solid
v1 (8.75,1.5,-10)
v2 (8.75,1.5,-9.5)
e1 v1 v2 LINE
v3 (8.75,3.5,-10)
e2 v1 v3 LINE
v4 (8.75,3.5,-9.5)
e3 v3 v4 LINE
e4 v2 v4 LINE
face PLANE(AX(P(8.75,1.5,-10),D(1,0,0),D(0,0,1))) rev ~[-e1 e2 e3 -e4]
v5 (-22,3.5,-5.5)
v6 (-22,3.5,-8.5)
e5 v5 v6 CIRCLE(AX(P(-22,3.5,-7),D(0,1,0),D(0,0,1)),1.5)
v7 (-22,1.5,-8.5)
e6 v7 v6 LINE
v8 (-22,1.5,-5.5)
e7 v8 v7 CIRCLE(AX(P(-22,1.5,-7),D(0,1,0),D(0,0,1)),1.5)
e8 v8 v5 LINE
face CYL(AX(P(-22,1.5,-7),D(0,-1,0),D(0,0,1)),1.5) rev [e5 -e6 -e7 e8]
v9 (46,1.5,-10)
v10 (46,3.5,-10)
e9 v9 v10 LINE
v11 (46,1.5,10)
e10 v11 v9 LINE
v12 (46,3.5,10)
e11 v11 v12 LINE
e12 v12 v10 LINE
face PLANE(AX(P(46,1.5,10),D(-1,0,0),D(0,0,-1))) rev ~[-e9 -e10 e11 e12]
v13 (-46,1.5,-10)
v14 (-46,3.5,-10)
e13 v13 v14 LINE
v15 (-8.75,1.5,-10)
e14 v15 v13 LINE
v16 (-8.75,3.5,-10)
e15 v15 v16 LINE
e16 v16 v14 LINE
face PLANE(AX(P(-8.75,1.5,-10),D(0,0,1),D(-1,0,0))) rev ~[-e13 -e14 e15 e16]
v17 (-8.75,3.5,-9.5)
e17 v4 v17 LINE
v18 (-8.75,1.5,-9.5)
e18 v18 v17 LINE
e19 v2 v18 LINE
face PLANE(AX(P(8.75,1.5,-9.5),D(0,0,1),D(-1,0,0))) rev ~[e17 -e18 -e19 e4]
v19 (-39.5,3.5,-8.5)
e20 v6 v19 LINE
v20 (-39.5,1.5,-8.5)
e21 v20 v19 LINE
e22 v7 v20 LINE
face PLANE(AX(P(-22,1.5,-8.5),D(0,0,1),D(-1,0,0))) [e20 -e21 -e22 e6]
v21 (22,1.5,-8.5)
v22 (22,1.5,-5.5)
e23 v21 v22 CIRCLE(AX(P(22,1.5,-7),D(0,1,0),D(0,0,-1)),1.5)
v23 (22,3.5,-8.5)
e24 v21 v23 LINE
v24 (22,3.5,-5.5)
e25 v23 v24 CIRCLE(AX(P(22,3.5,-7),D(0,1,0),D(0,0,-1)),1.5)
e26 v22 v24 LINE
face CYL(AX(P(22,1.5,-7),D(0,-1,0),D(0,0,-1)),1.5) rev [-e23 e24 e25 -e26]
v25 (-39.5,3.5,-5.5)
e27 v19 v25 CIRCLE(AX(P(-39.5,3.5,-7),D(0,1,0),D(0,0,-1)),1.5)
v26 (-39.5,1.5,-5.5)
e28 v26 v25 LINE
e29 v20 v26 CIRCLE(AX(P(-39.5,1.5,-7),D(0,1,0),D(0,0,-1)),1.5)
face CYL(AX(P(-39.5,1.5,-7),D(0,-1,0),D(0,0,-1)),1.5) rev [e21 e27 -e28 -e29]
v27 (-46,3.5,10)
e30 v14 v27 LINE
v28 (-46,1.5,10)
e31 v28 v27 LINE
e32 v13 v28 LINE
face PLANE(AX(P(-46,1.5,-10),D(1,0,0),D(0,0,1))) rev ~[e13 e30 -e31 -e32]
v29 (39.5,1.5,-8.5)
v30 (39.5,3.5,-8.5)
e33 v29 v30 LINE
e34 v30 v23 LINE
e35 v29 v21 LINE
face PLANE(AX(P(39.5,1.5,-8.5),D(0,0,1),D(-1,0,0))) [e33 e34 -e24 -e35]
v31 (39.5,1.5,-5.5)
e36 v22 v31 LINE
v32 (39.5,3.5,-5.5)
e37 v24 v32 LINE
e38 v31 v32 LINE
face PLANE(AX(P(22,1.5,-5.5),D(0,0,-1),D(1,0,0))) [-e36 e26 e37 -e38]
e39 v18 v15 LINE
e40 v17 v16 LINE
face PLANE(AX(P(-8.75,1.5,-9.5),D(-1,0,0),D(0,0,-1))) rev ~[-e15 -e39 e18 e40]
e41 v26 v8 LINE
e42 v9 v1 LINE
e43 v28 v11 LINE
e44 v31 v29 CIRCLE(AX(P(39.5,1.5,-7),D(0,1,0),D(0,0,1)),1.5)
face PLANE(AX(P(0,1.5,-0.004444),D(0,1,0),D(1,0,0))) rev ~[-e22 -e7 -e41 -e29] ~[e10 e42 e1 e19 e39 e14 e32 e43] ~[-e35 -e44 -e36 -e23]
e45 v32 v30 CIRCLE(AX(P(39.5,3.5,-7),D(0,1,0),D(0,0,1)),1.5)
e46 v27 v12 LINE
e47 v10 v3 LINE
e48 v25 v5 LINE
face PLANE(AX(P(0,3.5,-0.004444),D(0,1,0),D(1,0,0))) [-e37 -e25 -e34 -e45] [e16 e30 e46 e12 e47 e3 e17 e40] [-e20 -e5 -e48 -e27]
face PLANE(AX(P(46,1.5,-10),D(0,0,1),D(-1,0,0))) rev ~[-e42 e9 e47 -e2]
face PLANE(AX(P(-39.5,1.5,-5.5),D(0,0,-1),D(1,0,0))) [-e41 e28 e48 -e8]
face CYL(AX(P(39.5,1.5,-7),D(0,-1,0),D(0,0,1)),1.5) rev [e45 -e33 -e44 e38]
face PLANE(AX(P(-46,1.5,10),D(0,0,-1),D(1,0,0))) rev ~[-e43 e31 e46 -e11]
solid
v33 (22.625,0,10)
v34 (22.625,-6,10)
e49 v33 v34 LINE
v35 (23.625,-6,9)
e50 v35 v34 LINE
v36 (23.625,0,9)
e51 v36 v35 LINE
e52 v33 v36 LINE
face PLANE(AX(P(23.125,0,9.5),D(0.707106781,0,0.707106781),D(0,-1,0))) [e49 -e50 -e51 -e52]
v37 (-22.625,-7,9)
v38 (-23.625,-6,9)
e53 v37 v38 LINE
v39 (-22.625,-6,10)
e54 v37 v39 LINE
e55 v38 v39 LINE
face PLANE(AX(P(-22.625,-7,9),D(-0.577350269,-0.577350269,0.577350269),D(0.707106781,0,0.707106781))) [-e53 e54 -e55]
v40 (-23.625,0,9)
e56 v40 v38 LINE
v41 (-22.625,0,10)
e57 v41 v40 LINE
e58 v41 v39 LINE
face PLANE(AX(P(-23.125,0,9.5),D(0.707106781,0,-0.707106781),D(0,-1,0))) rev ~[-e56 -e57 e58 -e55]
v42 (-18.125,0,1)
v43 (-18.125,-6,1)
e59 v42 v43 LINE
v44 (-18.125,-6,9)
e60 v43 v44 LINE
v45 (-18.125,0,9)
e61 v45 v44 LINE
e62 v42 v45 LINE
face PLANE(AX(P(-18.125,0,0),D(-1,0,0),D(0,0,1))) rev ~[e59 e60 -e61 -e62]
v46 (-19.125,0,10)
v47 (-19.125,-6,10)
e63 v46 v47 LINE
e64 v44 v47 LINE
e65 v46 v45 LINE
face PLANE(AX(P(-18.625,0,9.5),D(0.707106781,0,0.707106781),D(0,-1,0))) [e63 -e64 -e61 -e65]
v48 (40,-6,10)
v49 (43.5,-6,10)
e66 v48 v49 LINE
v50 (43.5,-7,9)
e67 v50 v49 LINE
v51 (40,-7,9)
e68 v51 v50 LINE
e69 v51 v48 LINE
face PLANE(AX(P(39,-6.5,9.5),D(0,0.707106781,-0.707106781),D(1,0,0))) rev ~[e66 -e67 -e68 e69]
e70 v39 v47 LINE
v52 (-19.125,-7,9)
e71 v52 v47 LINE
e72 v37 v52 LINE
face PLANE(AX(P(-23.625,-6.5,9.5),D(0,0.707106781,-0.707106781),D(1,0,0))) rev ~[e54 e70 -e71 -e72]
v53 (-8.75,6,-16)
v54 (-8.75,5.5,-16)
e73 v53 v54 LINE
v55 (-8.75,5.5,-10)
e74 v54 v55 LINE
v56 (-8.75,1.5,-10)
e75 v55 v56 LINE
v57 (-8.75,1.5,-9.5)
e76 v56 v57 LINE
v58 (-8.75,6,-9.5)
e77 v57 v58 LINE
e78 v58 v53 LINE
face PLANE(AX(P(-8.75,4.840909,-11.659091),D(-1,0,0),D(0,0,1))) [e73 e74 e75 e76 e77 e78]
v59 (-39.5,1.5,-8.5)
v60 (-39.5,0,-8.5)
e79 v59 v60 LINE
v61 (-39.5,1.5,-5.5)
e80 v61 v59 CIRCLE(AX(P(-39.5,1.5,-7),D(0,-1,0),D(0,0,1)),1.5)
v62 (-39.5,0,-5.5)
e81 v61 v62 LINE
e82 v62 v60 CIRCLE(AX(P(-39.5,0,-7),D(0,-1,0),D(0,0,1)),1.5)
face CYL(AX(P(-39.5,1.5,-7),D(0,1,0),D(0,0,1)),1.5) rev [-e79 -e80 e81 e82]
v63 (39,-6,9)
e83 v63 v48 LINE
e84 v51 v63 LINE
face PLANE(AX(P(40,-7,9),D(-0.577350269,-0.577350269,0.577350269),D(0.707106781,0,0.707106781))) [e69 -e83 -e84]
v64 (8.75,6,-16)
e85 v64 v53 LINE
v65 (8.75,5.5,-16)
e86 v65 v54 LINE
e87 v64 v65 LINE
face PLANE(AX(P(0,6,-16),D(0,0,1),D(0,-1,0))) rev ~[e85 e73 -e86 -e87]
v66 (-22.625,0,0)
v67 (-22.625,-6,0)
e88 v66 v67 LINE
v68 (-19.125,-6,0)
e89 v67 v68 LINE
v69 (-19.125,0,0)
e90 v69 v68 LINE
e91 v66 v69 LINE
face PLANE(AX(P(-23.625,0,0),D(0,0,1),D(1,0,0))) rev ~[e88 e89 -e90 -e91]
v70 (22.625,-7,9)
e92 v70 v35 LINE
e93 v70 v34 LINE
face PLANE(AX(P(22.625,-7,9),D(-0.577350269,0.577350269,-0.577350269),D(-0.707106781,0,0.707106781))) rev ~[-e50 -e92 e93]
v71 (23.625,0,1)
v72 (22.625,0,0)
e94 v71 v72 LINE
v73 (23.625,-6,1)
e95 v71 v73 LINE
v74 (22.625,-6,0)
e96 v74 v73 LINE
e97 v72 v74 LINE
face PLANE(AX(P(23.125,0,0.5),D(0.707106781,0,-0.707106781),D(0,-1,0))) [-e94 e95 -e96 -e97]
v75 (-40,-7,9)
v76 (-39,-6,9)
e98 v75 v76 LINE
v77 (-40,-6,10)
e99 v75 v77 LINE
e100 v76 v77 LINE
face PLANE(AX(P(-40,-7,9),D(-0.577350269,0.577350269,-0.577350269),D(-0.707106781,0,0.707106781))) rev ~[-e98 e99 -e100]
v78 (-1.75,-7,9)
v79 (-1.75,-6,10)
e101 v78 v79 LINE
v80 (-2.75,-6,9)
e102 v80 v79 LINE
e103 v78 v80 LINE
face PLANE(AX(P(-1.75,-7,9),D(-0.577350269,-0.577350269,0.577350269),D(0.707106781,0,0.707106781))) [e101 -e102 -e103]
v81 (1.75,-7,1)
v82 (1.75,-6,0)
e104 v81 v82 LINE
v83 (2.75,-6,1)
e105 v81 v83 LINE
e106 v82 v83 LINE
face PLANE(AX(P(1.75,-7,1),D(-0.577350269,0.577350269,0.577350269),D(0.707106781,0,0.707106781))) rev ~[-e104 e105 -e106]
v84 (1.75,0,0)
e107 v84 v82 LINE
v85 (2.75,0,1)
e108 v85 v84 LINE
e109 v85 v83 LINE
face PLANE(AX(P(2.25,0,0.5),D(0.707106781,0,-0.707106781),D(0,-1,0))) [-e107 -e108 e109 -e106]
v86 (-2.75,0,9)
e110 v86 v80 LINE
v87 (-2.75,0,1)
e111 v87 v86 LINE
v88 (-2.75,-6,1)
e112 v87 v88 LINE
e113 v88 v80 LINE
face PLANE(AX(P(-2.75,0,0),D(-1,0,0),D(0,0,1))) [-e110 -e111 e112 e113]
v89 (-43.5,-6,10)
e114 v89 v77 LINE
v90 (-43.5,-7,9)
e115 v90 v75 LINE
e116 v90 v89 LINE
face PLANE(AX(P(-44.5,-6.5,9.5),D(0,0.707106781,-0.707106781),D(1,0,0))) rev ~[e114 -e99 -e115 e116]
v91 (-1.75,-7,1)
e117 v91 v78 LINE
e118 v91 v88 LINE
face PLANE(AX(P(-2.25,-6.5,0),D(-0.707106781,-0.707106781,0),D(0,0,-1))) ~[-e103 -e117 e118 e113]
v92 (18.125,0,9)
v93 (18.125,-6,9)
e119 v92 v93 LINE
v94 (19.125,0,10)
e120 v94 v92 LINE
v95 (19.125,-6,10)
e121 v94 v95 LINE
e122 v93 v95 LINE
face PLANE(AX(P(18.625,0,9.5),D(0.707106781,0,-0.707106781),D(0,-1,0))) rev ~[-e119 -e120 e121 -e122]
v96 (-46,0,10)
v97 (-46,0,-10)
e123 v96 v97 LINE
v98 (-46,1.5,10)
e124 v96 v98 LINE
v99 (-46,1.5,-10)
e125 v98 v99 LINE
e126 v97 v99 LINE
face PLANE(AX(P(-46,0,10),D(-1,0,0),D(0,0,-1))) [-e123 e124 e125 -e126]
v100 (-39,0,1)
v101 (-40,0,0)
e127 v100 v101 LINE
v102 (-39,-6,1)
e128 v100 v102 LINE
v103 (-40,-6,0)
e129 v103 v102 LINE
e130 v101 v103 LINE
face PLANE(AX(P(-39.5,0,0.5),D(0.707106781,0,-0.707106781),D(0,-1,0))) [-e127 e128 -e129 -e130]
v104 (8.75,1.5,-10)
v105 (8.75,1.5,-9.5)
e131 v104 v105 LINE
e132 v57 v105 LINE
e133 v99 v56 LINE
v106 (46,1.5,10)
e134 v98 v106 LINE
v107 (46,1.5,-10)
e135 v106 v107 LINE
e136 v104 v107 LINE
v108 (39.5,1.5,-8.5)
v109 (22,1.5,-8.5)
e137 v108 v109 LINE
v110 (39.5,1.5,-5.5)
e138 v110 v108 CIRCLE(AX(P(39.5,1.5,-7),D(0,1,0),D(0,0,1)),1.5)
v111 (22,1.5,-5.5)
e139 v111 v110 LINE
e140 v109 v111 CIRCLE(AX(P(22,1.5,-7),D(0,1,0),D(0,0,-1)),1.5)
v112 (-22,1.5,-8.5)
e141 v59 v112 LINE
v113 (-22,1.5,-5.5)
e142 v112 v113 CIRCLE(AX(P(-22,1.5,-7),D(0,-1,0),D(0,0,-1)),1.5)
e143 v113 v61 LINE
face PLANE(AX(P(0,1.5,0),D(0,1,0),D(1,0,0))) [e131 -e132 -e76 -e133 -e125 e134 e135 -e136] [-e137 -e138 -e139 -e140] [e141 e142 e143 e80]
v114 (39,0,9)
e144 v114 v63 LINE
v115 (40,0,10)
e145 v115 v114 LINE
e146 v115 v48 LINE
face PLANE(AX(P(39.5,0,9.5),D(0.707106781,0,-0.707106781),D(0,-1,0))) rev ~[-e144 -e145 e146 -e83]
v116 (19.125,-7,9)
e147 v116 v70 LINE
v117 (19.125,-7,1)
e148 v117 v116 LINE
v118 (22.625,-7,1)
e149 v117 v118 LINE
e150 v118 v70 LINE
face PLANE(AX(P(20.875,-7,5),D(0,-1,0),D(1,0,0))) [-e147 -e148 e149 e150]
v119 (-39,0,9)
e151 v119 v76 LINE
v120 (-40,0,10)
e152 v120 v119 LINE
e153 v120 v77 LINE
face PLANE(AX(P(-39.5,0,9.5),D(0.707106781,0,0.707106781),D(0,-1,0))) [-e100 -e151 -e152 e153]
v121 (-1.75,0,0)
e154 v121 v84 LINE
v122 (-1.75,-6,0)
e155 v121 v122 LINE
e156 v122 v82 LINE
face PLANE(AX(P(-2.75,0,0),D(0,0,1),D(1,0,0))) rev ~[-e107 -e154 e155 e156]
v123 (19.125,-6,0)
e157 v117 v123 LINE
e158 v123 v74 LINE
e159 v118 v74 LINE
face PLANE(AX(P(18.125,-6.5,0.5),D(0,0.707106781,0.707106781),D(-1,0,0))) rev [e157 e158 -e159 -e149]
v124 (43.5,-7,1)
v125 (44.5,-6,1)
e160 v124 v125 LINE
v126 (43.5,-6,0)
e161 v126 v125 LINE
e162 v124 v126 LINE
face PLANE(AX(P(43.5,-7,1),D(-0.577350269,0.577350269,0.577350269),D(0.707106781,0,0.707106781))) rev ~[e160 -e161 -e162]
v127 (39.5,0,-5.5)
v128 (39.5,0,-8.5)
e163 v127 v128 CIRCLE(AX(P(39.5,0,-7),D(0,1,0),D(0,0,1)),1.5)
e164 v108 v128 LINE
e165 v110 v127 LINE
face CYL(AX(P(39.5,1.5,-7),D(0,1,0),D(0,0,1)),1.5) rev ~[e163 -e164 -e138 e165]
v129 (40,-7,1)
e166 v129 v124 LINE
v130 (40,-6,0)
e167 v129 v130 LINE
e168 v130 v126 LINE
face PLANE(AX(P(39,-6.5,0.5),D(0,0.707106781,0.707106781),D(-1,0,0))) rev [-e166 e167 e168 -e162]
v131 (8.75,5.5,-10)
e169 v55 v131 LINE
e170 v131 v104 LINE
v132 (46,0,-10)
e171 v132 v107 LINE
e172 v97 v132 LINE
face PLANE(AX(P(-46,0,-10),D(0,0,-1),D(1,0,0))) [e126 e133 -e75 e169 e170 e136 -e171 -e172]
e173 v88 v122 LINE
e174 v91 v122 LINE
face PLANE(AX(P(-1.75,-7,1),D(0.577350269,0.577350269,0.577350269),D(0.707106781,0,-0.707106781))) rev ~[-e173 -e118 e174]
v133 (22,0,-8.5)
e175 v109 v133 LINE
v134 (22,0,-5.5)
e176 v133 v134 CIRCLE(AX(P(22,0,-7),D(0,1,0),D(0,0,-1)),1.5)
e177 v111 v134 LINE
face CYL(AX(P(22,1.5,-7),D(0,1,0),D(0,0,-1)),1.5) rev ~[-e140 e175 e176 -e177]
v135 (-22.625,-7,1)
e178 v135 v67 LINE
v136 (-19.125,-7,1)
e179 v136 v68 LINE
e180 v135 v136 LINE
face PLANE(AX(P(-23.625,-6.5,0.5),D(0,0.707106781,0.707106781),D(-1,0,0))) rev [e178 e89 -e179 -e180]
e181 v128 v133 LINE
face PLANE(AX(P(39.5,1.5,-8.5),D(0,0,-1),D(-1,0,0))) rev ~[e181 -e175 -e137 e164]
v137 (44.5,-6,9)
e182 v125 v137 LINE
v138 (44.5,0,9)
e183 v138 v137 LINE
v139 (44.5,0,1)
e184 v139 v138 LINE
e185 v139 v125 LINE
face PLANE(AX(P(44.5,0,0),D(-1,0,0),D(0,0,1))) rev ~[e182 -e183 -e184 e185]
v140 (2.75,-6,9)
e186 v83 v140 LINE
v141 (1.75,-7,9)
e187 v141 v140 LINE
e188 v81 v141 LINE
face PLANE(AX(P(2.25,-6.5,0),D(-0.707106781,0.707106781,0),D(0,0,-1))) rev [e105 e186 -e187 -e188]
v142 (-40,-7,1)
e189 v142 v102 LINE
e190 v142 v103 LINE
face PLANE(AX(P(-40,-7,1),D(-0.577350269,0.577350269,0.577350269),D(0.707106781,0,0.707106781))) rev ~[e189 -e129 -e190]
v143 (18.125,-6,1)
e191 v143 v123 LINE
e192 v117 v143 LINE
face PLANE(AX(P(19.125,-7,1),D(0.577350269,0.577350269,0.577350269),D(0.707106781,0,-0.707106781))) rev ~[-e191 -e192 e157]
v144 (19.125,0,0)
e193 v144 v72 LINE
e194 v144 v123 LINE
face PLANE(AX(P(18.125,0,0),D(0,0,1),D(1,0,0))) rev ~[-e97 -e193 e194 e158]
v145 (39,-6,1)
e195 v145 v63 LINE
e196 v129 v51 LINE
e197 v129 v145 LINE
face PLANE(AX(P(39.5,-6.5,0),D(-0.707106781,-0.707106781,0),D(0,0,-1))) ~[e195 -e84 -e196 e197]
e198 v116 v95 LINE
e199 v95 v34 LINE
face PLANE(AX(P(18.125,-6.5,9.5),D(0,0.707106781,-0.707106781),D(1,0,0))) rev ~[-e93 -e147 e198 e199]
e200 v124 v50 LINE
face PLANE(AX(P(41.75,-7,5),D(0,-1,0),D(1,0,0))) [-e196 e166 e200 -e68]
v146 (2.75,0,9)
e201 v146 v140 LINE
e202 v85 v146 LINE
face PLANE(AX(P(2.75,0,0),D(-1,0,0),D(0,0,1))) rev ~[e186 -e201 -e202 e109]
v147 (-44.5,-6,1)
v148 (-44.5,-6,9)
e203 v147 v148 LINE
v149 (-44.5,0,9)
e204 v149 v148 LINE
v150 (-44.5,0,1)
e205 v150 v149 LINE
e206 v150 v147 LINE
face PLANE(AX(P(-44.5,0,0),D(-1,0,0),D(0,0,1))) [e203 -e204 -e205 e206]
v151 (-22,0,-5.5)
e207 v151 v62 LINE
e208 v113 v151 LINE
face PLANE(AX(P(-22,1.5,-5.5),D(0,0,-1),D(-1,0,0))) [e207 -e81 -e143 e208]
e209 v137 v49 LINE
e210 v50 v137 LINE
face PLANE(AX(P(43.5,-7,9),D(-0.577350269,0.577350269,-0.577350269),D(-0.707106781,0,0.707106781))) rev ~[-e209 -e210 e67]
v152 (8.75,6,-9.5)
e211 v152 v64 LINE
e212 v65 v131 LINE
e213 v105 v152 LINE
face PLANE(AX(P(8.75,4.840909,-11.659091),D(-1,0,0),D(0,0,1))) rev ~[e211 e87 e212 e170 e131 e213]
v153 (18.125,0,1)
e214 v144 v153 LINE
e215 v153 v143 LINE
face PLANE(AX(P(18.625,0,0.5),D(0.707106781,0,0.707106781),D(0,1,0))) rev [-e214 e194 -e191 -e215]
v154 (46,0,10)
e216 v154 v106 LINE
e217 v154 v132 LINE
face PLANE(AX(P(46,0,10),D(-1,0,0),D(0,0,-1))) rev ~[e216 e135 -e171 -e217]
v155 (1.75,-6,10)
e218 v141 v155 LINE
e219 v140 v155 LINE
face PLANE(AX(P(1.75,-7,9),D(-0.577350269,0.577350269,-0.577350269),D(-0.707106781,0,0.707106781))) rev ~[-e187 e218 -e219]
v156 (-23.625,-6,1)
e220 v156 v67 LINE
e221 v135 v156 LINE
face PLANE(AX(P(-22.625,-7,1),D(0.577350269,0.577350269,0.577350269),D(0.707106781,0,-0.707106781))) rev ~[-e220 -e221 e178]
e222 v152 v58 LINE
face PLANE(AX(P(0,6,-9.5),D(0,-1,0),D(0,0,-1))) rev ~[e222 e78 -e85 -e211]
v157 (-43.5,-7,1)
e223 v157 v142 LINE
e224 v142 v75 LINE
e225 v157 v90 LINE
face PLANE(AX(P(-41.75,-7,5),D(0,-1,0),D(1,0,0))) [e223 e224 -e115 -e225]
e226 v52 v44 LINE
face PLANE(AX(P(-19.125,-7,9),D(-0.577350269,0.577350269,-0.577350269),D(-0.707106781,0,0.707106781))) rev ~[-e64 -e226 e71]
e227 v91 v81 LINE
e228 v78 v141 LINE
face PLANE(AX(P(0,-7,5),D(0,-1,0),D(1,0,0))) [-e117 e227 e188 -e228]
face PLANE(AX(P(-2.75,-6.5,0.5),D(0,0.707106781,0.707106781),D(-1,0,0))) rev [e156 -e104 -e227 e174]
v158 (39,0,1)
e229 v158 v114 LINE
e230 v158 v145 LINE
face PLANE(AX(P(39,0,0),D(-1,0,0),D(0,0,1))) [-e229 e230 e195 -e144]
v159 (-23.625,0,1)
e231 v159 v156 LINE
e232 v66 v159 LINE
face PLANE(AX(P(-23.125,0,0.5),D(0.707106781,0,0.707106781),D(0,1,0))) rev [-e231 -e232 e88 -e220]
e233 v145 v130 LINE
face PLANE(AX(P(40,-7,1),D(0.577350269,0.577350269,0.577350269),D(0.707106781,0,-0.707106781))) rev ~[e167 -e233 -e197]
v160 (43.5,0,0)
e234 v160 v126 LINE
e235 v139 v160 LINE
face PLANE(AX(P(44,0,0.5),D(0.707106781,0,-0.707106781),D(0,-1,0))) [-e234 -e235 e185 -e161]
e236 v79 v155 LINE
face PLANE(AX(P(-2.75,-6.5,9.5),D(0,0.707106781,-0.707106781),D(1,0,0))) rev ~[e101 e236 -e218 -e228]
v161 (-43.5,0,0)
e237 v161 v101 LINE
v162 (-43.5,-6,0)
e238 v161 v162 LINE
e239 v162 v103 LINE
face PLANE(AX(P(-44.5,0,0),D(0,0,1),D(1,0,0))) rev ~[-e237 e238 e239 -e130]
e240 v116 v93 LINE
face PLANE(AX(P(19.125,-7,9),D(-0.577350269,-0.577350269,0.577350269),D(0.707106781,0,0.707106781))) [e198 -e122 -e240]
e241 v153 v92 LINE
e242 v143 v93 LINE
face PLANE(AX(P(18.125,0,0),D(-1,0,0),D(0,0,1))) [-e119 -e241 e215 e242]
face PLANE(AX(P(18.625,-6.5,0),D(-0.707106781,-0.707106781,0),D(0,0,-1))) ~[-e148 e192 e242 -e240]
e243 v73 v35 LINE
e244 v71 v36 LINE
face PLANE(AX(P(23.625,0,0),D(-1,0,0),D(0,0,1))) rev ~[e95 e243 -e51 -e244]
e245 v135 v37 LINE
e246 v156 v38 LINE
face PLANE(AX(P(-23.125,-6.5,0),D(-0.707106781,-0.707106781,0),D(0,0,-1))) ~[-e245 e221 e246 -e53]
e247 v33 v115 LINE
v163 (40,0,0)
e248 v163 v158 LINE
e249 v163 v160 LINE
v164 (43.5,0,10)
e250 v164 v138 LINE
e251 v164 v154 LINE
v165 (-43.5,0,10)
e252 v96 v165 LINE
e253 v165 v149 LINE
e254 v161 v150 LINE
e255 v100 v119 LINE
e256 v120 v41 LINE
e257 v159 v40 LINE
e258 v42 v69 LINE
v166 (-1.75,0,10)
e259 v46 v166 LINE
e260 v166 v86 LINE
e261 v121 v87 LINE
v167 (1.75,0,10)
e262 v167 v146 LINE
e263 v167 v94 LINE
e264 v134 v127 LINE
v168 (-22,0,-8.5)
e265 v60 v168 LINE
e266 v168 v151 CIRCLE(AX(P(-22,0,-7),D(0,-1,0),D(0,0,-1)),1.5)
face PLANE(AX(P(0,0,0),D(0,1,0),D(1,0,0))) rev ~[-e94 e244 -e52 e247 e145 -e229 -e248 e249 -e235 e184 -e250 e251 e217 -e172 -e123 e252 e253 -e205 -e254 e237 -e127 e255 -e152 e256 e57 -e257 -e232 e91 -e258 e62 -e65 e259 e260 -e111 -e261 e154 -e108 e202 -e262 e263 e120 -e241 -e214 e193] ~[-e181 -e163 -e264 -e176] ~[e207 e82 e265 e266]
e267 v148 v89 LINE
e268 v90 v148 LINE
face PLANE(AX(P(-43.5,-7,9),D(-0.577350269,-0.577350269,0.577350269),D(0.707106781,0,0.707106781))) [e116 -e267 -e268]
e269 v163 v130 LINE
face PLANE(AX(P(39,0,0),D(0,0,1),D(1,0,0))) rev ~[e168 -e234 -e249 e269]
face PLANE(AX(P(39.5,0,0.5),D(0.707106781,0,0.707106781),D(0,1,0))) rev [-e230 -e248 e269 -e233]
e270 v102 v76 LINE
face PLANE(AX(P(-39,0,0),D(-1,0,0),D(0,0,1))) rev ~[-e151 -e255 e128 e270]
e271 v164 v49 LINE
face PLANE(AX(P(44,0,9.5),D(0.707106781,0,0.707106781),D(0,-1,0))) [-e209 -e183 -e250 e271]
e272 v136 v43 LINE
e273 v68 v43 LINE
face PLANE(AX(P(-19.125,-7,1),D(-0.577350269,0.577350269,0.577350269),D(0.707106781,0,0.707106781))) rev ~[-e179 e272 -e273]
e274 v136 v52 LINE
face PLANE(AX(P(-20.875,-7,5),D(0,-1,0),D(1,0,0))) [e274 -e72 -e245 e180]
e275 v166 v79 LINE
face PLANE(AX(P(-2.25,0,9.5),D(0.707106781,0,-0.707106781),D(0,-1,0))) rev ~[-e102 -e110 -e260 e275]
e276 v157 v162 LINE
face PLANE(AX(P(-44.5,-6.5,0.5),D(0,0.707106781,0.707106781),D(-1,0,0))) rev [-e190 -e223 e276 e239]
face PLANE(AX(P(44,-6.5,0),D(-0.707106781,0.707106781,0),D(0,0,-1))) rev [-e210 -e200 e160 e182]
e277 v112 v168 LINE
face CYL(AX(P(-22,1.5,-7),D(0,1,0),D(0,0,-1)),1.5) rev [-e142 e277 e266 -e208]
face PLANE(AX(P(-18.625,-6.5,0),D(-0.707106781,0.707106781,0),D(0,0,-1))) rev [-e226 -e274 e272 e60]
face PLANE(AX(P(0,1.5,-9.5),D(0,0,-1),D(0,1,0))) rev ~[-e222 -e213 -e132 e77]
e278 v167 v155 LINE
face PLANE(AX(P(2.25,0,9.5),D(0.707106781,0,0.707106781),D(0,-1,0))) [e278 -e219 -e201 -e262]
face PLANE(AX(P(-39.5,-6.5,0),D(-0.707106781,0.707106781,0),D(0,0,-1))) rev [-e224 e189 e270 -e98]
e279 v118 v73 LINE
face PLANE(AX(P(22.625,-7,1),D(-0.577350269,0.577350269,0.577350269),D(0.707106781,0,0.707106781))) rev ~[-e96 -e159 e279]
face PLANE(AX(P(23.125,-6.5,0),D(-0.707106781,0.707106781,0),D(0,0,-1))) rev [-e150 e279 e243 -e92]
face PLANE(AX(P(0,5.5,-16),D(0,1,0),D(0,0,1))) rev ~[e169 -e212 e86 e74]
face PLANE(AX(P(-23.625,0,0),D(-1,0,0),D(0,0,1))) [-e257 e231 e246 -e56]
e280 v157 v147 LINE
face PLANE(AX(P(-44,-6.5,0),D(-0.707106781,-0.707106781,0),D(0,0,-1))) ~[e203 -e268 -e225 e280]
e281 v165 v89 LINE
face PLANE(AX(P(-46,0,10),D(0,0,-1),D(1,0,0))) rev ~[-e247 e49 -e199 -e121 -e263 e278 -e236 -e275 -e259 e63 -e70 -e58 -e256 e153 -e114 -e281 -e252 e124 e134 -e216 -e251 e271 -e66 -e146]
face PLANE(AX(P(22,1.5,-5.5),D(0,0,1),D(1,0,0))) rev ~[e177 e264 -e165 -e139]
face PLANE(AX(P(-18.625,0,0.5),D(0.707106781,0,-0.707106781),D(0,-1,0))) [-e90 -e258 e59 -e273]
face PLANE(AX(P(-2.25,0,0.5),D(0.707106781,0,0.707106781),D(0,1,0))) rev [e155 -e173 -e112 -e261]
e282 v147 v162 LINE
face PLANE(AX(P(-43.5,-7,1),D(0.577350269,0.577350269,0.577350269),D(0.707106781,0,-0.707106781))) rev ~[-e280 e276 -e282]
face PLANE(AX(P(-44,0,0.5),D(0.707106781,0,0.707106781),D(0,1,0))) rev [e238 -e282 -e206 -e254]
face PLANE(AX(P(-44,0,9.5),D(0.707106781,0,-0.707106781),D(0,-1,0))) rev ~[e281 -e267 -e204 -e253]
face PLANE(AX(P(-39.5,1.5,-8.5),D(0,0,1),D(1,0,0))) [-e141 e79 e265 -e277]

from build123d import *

# Parameters (mm, degrees)
SKETCH_1_W                         = 92
SKETCH_1_H                         = 20
EXTRUDE_1_DEPTH                    = 1.5
SKETCH_2_W                         = 5.5
SKETCH_2_H                         = 10
EXTRUDE_2_DEPTH                    = 7
CHAMFER_1_SIZE                     = 1
PATTERN_LINEAR_2_COUNT             = 5
PATTERN_LINEAR_2_PITCH             = 20.875
CHAMFER_1_OF_PATTERN_LINEAR_2_SIZE = 1
EXTRUDE_3_DEPTH                    = 8.75
CUT_EXTRUDE_1_DEPTH                = 1.5
EXTRUDE_4_DEPTH                    = 2


with BuildPart() as part:
    # 草图1 → 凸台-拉伸1 (new body)
    with BuildSketch(Plane(origin=(0, 0, 0), x_dir=(1, 0, 0), z_dir=(0, 1, 0))):
        Rectangle(SKETCH_1_W, SKETCH_1_H)
    extrude(amount=EXTRUDE_1_DEPTH)

    # 草图2 → 凸台-拉伸2 (add)
    with BuildSketch(Plane.XZ):
        with Locations((-41.75, 5)):
            Rectangle(SKETCH_2_W, SKETCH_2_H)
    extrude_2 = extrude(amount=EXTRUDE_2_DEPTH)

    # 倒角1
    chamfer_1_edges = [part.edges().sort_by_distance(p)[0] for p in [
        (-44.5, -3.5, 10),
        (-44.5, -3.5, 0),
        (-39, -3.5, 0),
        (-39, -3.5, 10),
        (-44.5, -7, 5),
        (-41.75, -7, 0),
        (-39, -7, 5),
        (-41.75, -7, 10),
    ]]
    chamfer(chamfer_1_edges, length=CHAMFER_1_SIZE)

    # 阵列(线性)2: 凸台-拉伸2 ×5
    with Locations(*[(i * PATTERN_LINEAR_2_PITCH, 0, 0) for i in range(1, PATTERN_LINEAR_2_COUNT)]):
        add(extrude_2)

    # 倒角1 of 阵列(线性)2
    chamfer_1_of_pattern_linear_2_edges = [part.edges().sort_by_distance(p)[0] for p in [
        (-23.625, -3.5, 10),
        (-23.625, -3.5, 0),
        (-18.125, -3.5, 0),
        (-18.125, -3.5, 10),
        (-23.625, -7, 5),
        (-20.875, -7, 0),
        (-18.125, -7, 5),
        (-20.875, -7, 10),
        (-2.75, -3.5, 10),
        (-2.75, -3.5, 0),
        (2.75, -3.5, 0),
        (2.75, -3.5, 10),
        (-2.75, -7, 5),
        (0, -7, 0),
        (2.75, -7, 5),
        (0, -7, 10),
        (18.125, -3.5, 10),
        (18.125, -3.5, 0),
        (23.625, -3.5, 0),
        (23.625, -3.5, 10),
        (18.125, -7, 5),
        (20.875, -7, 0),
        (23.625, -7, 5),
        (20.875, -7, 10),
        (39, -3.5, 10),
        (39, -3.5, 0),
        (44.5, -3.5, 0),
        (44.5, -3.5, 10),
        (39, -7, 5),
        (41.75, -7, 0),
        (44.5, -7, 5),
        (41.75, -7, 10),
    ]]
    chamfer(chamfer_1_of_pattern_linear_2_edges, length=CHAMFER_1_OF_PATTERN_LINEAR_2_SIZE)

    # 草图4 → 凸台-拉伸3 (add, symmetric)
    with BuildSketch(Plane(origin=(0, 0, 0), x_dir=(0, 0, -1), z_dir=(1, 0, 0))):
        Polygon((9.5, 1.5), (9.5, 6), (16, 6), (16, 5.5), (10, 5.5), (10, 1.5), align=None)
    extrude(amount=EXTRUDE_3_DEPTH, both=True)

    # 草图5 → 切除-拉伸1 (cut)
    with BuildSketch(Plane(origin=(0, 1.5, 0), x_dir=(1, 0, 0), z_dir=(0, 1, 0))):
        with BuildLine():
            Line((-39.5, 8.5), (-22, 8.5))
            ThreePointArc((-22, 8.5), (-20.5, 7), (-22, 5.5))
            Line((-22, 5.5), (-39.5, 5.5))
            ThreePointArc((-39.5, 5.5), (-41, 7), (-39.5, 8.5))
        make_face()
        with BuildLine():
            Line((39.5, 8.5), (22, 8.5))
            ThreePointArc((22, 8.5), (20.5, 7), (22, 5.5))
            Line((22, 5.5), (39.5, 5.5))
            ThreePointArc((39.5, 5.5), (41, 7), (39.5, 8.5))
        make_face()
    extrude(amount=-CUT_EXTRUDE_1_DEPTH, mode=Mode.SUBTRACT)


with BuildPart() as body_2:
    # 草图6 → 凸台-拉伸4 (new body)
    with BuildSketch(Plane(origin=(0, 1.5, 0), x_dir=(1, 0, 0), z_dir=(0, 1, 0))):
        Polygon((8.75, 9.5), (-8.75, 9.5), (-8.75, 10), (-46, 10), (-46, -10), (46, -10), (46, 10), (8.75, 10), align=None)
        with BuildLine():
            Line((39.5, 8.5), (22, 8.5))
            ThreePointArc((22, 8.5), (20.5, 7), (22, 5.5))
            Line((22, 5.5), (39.5, 5.5))
            ThreePointArc((39.5, 5.5), (41, 7), (39.5, 8.5))
        make_face(mode=Mode.SUBTRACT)
        with BuildLine():
            Line((-39.5, 5.5), (-22, 5.5))
            ThreePointArc((-22, 5.5), (-20.5, 7), (-22, 8.5))
            Line((-22, 8.5), (-39.5, 8.5))
            ThreePointArc((-39.5, 8.5), (-41, 7), (-39.5, 5.5))
        make_face(mode=Mode.SUBTRACT)
    extrude(amount=EXTRUDE_4_DEPTH)


solid = Compound([part.part, body_2.part])
